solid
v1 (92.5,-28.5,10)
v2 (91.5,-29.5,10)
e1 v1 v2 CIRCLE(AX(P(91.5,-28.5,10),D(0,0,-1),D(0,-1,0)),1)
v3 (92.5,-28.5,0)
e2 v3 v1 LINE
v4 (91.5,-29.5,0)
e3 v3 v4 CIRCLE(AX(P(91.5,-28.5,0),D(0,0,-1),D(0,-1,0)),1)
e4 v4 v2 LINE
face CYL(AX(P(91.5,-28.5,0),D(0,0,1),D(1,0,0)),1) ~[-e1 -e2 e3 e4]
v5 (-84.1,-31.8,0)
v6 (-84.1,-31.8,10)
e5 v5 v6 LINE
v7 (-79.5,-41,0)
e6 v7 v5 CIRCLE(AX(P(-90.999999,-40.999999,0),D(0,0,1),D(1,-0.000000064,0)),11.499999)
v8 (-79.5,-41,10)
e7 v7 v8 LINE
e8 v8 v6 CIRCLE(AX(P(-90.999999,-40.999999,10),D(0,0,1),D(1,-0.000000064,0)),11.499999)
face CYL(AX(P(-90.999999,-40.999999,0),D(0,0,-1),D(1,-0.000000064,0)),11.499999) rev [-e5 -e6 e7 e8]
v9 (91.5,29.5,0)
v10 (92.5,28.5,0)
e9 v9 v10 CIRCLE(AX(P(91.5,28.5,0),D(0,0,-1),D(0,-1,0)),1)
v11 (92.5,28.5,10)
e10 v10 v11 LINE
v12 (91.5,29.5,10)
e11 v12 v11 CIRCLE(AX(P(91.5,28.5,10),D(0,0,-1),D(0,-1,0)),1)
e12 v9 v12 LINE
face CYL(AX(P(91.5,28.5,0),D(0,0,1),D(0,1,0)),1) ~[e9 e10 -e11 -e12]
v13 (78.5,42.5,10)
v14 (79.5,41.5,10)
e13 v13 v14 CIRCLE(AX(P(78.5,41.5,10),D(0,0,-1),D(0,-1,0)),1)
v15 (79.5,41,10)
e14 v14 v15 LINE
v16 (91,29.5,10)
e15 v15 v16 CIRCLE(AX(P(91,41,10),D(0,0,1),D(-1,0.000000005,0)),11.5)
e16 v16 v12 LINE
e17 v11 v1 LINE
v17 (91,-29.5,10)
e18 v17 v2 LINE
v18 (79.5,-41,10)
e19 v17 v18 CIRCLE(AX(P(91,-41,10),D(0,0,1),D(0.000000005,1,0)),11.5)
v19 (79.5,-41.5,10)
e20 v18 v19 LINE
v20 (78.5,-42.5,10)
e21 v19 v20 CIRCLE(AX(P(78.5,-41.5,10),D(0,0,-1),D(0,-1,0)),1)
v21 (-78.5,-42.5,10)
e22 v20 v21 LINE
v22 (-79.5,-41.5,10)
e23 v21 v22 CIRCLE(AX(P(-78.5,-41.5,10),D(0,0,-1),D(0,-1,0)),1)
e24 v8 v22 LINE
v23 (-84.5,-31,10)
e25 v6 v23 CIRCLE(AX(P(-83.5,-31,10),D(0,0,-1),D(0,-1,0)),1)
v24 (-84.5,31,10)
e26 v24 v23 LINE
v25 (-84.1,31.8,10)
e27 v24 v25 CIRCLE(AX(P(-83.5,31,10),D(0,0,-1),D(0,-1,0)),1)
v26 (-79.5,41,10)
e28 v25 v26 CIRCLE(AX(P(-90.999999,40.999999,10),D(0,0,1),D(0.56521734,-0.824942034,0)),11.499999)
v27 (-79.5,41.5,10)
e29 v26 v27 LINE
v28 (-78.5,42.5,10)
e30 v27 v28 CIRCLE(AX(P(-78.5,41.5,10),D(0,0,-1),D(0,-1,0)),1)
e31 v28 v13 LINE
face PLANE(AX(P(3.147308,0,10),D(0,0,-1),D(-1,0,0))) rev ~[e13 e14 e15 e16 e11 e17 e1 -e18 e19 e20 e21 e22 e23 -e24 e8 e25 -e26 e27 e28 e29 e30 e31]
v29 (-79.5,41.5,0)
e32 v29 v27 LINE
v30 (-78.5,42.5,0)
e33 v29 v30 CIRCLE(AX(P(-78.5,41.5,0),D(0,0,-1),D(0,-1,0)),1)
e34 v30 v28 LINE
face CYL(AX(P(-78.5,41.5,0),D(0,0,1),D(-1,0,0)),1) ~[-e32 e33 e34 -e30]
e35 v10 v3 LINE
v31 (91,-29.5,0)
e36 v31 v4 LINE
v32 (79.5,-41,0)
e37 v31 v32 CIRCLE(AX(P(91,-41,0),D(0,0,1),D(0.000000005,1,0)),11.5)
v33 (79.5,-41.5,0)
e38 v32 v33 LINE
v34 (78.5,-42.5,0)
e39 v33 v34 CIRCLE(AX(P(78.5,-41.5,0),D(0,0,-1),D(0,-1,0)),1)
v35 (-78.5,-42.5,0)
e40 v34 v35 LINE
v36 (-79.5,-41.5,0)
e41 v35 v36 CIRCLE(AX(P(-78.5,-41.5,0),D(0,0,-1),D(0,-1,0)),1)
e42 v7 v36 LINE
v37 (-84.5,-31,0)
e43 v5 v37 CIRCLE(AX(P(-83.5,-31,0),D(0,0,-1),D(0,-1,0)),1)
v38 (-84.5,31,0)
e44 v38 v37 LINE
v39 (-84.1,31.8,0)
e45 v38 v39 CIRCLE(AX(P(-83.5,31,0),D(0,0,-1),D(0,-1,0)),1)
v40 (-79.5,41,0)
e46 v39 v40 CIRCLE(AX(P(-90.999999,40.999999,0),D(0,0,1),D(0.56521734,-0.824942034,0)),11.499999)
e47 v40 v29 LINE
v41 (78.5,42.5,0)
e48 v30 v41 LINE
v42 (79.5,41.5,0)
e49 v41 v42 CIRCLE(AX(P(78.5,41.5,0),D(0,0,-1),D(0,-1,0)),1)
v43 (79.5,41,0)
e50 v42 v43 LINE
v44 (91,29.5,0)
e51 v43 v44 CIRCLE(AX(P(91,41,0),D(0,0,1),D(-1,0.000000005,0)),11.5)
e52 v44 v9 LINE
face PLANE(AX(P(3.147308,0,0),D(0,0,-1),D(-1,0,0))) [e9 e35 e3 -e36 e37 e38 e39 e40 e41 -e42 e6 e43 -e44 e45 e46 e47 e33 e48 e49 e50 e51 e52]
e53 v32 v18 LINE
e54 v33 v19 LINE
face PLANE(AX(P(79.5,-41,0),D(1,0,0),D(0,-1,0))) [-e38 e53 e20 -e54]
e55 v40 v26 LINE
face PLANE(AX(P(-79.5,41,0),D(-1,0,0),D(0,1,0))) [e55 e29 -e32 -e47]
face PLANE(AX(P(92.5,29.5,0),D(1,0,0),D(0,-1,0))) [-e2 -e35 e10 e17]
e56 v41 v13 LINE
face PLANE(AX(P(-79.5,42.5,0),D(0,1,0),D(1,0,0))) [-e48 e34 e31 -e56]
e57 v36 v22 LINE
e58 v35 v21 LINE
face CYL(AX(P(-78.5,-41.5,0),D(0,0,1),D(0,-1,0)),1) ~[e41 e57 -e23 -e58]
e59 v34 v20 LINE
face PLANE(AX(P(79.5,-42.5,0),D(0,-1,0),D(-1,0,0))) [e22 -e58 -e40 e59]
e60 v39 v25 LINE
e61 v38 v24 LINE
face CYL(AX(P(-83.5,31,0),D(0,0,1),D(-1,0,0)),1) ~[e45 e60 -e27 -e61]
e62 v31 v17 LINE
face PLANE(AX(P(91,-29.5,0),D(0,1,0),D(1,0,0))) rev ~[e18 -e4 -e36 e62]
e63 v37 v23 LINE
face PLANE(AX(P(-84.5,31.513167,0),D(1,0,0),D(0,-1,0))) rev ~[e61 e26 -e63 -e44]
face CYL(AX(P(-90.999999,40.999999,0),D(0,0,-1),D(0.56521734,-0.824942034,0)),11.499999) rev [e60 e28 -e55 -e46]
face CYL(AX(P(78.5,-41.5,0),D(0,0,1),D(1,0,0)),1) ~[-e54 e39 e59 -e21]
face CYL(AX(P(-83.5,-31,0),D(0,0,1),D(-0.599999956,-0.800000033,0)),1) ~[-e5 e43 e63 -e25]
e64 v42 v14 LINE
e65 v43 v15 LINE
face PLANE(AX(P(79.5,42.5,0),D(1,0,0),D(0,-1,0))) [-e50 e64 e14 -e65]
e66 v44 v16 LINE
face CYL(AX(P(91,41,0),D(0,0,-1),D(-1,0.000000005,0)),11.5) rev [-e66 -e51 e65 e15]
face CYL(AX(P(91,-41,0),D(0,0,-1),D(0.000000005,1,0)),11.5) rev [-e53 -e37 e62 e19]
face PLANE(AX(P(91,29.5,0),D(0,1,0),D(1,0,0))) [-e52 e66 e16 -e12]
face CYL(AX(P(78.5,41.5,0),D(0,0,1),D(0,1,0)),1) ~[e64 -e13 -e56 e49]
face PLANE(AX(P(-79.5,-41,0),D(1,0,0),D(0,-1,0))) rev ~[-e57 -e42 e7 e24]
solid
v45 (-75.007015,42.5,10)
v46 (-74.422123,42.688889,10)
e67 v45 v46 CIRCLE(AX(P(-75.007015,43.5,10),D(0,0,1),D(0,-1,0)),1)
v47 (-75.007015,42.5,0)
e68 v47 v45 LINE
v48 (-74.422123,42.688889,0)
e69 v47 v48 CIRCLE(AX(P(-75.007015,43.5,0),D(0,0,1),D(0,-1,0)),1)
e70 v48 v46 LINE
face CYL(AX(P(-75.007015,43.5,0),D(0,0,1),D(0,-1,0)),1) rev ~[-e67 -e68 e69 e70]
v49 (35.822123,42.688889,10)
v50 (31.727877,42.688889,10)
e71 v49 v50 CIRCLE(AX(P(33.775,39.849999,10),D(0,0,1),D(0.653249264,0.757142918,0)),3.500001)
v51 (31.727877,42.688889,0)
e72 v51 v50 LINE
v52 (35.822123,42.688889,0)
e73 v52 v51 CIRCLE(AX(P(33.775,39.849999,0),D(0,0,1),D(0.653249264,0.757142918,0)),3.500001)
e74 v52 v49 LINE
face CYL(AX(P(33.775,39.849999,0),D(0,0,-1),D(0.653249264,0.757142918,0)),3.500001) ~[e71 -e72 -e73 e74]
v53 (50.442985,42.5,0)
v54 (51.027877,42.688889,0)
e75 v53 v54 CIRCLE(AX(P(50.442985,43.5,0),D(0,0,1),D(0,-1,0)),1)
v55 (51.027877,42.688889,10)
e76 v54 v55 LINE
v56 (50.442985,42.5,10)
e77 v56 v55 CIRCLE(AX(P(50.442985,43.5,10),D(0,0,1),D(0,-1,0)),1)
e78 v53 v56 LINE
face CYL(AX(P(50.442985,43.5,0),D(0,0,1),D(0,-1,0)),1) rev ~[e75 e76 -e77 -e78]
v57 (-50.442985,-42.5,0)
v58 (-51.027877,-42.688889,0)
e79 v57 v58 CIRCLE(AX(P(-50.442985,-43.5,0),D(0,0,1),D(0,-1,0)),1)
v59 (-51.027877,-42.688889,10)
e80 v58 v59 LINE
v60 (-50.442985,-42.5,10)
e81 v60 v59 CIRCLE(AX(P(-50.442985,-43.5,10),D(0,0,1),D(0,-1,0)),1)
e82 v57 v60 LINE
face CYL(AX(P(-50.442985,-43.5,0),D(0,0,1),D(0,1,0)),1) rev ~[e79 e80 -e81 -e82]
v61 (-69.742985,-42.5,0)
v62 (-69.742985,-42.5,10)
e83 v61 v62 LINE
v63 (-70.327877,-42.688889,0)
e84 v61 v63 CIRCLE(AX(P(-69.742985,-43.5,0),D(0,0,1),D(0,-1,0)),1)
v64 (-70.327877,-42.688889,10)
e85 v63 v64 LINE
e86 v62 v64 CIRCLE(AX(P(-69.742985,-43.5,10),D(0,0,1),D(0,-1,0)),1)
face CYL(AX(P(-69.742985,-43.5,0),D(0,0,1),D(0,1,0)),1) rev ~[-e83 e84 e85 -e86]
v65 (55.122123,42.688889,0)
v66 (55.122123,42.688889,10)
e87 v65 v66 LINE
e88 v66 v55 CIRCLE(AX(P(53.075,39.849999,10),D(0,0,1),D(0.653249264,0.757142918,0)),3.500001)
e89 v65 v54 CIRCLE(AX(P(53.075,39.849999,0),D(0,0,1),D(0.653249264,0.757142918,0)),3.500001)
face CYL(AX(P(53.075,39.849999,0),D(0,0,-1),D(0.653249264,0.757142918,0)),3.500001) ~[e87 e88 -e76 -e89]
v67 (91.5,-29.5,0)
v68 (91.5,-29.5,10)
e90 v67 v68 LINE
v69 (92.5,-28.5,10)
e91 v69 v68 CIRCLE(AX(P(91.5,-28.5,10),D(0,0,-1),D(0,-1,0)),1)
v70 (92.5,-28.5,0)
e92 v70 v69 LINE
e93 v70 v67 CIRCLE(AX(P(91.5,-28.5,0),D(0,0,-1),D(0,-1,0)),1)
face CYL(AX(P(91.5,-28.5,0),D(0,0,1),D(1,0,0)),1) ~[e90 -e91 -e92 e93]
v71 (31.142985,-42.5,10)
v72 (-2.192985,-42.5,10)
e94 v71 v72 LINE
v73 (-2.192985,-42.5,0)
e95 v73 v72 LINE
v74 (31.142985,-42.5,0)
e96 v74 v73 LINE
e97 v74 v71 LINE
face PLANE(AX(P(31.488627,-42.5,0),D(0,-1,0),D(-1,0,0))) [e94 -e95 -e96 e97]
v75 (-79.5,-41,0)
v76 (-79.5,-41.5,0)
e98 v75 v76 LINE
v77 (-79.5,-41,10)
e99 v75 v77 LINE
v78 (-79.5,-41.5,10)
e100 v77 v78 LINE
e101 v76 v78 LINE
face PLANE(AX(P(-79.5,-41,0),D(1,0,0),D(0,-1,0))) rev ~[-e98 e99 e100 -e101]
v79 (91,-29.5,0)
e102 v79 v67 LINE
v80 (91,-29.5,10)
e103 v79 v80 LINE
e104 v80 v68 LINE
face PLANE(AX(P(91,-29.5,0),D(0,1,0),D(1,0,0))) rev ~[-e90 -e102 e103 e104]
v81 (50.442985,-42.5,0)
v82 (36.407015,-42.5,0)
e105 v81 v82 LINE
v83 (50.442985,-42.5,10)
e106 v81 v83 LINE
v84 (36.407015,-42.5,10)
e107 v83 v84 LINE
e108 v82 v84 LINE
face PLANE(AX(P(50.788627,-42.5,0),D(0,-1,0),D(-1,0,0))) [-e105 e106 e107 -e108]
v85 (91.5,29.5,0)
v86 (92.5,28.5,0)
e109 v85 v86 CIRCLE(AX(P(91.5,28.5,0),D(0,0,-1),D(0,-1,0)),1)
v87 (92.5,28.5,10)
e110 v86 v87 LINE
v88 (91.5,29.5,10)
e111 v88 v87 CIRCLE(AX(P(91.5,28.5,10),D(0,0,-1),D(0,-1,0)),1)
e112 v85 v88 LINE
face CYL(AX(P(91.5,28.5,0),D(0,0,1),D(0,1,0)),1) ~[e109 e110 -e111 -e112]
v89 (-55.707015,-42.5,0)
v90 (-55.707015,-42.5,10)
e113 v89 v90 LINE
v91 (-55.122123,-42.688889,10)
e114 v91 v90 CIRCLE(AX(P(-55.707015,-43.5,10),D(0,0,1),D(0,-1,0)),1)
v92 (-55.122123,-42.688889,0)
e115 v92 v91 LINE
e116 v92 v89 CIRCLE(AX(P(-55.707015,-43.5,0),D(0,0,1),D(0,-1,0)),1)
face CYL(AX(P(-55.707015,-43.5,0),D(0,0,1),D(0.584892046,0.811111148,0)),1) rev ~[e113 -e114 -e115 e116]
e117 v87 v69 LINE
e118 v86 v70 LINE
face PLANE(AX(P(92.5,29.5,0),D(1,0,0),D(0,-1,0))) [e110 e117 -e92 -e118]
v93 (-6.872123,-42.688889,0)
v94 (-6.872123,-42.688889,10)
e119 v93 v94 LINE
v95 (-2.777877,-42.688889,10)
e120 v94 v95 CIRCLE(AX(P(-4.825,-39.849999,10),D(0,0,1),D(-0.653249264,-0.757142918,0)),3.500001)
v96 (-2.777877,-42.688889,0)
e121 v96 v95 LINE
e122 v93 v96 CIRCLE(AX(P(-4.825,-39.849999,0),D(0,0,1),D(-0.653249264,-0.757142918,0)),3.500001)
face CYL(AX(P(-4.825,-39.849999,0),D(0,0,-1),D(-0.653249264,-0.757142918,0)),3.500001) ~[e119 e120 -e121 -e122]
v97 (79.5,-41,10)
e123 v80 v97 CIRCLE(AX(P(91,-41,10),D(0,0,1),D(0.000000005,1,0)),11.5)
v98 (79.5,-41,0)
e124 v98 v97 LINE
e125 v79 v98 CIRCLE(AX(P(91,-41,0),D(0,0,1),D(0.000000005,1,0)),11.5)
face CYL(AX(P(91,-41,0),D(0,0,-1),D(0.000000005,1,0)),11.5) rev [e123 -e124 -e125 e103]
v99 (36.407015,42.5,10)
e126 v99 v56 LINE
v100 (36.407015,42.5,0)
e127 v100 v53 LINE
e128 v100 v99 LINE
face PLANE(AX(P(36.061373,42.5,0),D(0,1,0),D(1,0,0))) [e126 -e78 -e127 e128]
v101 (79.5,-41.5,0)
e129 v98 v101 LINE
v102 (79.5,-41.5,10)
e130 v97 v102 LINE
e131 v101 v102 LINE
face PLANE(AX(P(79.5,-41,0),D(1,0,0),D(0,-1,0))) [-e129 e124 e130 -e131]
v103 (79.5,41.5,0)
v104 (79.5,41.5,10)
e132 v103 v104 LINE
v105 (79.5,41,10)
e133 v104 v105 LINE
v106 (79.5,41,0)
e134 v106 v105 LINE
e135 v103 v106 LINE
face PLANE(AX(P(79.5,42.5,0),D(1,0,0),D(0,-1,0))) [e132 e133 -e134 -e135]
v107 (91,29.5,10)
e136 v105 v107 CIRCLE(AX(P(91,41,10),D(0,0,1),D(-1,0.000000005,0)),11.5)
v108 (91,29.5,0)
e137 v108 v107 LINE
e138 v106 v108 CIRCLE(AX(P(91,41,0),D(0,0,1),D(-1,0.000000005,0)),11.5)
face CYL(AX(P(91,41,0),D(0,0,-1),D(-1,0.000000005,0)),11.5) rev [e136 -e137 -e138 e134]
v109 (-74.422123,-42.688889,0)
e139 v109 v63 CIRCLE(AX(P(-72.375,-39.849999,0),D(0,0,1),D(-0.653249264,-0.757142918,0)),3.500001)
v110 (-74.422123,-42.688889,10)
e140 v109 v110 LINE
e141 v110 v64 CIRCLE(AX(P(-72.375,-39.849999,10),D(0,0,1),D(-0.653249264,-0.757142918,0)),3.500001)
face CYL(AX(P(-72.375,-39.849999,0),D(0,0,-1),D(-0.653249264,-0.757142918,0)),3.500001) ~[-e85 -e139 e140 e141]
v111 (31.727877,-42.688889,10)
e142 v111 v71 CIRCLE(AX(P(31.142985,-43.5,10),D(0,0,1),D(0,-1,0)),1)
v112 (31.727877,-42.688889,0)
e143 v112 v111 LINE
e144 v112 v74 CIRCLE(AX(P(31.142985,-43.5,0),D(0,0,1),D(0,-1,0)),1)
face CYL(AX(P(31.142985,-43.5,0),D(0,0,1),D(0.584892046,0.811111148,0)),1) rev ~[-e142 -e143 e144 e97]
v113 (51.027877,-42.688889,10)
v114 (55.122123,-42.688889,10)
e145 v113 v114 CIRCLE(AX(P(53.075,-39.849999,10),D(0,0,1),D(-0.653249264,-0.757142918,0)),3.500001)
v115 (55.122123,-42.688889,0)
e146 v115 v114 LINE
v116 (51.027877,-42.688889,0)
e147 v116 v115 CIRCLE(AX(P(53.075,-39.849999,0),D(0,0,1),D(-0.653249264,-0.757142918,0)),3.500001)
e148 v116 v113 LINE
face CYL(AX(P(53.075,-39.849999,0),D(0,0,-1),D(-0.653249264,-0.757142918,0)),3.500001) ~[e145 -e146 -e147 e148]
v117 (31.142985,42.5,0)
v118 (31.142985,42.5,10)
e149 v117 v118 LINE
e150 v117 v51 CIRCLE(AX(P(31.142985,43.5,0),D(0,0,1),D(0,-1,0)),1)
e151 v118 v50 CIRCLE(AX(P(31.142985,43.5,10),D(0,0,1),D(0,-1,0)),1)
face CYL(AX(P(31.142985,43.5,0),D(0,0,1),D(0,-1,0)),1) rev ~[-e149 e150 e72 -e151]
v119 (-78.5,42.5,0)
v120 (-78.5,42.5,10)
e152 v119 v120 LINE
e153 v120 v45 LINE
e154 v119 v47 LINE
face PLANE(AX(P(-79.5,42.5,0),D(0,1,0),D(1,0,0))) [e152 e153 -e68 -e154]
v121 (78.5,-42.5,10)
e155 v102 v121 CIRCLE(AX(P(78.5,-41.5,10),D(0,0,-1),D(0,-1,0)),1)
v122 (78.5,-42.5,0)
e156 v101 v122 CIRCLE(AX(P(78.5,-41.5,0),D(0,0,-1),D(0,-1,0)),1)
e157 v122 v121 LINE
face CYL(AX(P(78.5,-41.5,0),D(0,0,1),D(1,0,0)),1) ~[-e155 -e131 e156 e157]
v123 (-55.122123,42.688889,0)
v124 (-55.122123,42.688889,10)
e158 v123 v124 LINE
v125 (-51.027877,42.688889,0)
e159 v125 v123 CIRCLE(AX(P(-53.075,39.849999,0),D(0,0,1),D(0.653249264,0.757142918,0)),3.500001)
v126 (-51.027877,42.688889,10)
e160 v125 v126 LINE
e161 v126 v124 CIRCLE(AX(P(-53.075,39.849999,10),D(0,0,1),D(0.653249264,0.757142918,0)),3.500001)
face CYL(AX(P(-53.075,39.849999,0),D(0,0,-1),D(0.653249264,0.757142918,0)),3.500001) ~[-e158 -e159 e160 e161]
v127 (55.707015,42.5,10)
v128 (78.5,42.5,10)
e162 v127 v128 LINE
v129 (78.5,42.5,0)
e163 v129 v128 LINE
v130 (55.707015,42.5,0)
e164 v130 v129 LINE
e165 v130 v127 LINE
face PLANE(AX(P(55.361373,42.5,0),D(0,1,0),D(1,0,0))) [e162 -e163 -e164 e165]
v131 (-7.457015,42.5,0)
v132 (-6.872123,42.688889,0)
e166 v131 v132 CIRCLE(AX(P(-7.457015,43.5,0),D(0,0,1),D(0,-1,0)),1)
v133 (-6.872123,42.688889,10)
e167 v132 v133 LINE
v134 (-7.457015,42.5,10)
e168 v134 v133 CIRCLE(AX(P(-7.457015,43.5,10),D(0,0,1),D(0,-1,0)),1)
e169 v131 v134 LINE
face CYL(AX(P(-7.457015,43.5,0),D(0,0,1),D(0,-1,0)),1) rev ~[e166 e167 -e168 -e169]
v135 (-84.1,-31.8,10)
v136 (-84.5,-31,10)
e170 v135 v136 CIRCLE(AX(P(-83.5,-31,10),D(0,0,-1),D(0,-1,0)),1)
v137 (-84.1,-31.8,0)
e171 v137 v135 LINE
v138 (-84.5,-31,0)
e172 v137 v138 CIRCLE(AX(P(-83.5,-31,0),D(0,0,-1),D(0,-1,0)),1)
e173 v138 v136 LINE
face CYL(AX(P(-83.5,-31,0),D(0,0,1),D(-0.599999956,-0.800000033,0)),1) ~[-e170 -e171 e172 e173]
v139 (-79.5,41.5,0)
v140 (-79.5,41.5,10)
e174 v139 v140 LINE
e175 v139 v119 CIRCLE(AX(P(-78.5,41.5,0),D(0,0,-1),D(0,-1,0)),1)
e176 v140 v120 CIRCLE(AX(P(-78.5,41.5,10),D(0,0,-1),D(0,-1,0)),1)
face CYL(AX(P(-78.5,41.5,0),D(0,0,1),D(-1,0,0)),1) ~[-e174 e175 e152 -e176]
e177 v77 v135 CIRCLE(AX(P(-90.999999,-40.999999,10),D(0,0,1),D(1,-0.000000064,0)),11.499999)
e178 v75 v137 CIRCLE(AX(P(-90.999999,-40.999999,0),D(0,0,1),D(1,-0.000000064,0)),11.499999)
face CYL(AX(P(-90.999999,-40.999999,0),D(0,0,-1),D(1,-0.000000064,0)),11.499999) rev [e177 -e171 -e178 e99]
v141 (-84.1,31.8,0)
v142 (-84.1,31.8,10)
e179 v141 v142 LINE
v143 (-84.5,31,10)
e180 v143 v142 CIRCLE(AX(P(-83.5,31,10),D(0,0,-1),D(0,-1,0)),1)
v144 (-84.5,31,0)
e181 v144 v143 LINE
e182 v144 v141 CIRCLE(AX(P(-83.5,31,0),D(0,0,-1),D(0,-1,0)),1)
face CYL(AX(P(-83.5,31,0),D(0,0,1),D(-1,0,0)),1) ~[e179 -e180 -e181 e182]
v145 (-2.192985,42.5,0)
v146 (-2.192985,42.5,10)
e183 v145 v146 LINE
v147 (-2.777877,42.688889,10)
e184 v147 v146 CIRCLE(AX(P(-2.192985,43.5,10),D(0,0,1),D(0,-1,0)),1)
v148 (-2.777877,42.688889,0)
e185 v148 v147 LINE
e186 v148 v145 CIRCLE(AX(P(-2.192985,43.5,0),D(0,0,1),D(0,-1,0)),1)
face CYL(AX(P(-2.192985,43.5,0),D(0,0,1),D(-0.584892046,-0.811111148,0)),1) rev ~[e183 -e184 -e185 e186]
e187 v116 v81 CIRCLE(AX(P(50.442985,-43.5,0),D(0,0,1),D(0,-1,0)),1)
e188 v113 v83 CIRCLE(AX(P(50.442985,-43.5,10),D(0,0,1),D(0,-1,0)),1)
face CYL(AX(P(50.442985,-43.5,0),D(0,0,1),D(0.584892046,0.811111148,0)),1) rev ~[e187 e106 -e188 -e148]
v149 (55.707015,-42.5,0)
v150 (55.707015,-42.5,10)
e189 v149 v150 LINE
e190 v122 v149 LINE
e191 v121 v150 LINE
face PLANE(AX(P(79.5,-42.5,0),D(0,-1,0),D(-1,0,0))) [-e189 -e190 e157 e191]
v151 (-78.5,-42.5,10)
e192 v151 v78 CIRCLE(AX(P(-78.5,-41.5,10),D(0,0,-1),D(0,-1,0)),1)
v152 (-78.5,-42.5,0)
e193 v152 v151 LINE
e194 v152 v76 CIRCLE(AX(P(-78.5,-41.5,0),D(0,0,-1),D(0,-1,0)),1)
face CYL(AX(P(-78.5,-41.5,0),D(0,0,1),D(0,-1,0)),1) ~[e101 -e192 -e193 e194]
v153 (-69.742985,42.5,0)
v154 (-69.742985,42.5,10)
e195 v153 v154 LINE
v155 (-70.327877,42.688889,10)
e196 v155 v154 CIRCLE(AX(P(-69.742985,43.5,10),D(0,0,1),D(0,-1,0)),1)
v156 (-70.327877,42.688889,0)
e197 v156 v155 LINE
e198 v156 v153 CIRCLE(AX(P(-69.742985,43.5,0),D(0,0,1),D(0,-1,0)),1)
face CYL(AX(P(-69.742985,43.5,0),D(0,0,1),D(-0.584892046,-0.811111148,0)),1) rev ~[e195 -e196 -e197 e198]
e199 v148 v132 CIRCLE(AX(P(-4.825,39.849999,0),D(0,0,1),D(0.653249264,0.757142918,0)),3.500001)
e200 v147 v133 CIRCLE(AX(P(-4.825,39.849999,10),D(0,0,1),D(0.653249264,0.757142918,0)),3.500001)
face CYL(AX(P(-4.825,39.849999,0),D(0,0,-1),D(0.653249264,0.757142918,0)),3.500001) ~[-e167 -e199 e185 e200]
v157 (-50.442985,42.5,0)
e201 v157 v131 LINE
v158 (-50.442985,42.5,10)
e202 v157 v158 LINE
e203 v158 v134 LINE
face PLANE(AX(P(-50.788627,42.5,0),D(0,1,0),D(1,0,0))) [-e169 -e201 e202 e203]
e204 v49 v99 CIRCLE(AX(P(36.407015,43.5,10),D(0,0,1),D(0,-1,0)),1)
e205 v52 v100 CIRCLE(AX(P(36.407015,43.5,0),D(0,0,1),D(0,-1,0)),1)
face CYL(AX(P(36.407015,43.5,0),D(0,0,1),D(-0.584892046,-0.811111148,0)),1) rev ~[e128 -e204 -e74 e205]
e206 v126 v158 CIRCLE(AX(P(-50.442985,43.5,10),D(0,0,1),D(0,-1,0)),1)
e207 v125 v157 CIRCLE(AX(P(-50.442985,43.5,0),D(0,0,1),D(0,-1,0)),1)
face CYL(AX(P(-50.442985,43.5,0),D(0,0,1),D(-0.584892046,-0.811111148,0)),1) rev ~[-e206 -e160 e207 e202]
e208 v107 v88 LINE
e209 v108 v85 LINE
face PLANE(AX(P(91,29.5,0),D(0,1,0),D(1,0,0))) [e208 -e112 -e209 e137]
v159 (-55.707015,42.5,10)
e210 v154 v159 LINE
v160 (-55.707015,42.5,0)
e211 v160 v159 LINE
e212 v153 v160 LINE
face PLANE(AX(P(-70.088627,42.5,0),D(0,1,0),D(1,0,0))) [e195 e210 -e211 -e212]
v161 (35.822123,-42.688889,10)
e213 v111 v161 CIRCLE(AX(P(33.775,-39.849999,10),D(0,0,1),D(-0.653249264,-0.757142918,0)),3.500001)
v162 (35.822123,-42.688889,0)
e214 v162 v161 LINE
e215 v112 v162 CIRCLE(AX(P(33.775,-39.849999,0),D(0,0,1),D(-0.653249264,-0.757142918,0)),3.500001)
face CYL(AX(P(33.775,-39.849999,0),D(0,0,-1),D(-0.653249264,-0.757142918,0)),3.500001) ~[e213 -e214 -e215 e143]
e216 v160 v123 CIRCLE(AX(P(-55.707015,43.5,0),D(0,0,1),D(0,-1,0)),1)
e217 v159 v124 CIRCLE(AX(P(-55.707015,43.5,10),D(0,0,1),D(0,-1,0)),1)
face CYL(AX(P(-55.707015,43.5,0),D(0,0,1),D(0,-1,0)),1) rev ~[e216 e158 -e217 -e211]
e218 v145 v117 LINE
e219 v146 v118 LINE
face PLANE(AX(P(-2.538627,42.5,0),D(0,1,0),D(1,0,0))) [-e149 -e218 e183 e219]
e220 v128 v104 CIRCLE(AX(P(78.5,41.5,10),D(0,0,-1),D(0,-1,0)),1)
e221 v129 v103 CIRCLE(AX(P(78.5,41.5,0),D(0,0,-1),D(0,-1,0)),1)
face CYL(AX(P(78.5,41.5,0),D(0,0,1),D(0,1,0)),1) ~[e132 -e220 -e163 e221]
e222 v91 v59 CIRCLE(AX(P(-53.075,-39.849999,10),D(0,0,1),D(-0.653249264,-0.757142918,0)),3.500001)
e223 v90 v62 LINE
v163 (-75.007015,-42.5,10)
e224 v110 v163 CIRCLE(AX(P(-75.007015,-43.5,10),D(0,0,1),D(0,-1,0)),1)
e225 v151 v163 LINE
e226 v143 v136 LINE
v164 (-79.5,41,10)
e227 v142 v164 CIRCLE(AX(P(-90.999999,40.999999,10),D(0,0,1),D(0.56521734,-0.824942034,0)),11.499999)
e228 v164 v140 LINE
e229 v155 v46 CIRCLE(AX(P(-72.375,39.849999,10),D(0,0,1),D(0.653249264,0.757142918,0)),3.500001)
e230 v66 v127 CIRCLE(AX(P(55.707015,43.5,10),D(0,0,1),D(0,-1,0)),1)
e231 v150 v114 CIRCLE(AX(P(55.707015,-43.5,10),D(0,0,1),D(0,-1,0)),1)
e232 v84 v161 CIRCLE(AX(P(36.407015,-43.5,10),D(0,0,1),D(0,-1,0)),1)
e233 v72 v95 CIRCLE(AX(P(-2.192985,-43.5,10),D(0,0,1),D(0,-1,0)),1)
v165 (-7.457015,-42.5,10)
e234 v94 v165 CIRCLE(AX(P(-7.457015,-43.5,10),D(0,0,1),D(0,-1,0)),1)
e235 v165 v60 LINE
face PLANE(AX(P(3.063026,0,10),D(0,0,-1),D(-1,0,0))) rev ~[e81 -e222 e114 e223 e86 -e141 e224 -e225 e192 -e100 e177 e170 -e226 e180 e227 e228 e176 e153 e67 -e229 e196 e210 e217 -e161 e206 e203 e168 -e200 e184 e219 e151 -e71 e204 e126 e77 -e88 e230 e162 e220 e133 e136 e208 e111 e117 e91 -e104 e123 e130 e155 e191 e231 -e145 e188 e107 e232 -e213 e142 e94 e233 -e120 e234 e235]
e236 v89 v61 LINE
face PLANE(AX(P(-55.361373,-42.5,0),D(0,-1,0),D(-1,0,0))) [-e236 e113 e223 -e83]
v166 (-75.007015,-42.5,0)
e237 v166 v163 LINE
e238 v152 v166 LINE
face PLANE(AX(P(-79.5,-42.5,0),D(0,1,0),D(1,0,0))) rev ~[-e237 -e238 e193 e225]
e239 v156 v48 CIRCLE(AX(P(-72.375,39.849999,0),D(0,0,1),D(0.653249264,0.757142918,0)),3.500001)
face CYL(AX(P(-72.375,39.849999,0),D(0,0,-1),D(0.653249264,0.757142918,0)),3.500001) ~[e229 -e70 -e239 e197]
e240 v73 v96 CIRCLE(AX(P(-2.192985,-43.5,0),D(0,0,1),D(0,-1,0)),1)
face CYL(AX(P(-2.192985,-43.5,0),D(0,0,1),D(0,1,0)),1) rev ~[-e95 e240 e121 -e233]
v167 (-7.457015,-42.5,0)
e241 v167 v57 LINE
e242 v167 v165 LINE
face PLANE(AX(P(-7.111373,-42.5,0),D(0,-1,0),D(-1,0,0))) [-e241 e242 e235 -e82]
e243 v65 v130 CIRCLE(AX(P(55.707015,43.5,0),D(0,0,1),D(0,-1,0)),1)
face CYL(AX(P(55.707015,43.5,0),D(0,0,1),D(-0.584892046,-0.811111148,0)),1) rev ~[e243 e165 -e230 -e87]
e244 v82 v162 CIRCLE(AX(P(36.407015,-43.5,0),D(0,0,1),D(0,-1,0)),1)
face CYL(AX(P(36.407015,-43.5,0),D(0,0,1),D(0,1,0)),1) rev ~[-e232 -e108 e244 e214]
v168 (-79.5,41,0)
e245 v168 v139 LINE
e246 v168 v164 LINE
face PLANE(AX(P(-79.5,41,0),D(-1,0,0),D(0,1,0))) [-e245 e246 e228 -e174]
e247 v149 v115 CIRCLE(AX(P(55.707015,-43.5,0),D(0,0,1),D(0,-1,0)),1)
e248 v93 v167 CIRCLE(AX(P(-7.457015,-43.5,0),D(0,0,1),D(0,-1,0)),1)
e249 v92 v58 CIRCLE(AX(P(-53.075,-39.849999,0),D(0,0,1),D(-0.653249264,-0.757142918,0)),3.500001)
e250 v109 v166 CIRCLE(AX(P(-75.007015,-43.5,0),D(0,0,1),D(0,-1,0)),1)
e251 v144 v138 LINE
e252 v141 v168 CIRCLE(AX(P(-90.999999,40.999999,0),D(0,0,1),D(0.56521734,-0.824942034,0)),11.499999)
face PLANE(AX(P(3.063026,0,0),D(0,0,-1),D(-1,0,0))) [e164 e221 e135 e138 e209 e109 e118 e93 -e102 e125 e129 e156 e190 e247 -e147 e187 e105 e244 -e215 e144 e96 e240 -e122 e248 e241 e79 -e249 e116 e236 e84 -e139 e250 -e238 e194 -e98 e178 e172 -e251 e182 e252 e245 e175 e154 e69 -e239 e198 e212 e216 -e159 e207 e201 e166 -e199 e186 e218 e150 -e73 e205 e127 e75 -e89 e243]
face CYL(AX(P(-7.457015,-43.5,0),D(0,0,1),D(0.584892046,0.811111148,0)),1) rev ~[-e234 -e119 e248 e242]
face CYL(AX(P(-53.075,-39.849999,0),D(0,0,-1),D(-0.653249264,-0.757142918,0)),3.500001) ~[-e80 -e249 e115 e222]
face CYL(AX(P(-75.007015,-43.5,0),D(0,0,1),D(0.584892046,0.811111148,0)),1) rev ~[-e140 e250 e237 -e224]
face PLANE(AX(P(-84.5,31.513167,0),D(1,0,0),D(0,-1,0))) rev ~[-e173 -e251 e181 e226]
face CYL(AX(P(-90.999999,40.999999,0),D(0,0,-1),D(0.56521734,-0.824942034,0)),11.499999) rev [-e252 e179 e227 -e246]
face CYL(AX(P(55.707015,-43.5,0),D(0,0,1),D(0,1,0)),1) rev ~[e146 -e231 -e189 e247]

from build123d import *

# Parameters (mm, degrees)
PAD_DEPTH    = 10
FILLET_R     = 1
PAD001_DEPTH = 10
FILLET001_R  = 1


with BuildPart() as body:
    # Sketch → Pad (new body)
    with BuildSketch(Plane.XY):
        with BuildLine():
            ThreePointArc((79.5, 41), (82.868272, 32.868272), (91, 29.5))
            Line((91, 29.5), (92.5, 29.5))
            Line((92.5, 29.5), (92.5, -29.5))
            Line((91, -29.5), (92.5, -29.5))
            ThreePointArc((91, -29.5), (82.868272, -32.868272), (79.5, -41))
            Line((79.5, -41), (79.5, -42.5))
            Line((79.5, -42.5), (55.361373, -42.5))
            ThreePointArc((50.788627, -42.5), (53.075, -43.35), (55.361373, -42.5))
            Line((50.788627, -42.5), (36.061373, -42.5))
            ThreePointArc((31.488627, -42.5), (33.775, -43.35), (36.061373, -42.5))
            Line((31.488627, -42.5), (-2.538627, -42.5))
            ThreePointArc((-7.111373, -42.5), (-4.825, -43.35), (-2.538627, -42.5))
            Line((-7.111373, -42.5), (-50.788627, -42.5))
            ThreePointArc((-55.361373, -42.5), (-53.075, -43.35), (-50.788627, -42.5))
            Line((-55.361373, -42.5), (-70.088627, -42.5))
            ThreePointArc((-74.661373, -42.5), (-72.375, -43.35), (-70.088627, -42.5))
            Line((-79.5, -42.5), (-74.661373, -42.5))
            Line((-79.5, -41), (-79.5, -42.5))
            ThreePointArc((-79.5, -41), (-80.826505, -35.638097), (-84.5, -31.513167))
            Line((-84.5, 31.513167), (-84.5, -31.513167))
            ThreePointArc((-84.5, 31.513167), (-80.826505, 35.638097), (-79.5, 41))
            Line((-79.5, 41), (-79.5, 42.5))
            Line((-79.5, 42.5), (-74.661373, 42.5))
            ThreePointArc((-70.088627, 42.5), (-72.375, 43.35), (-74.661373, 42.5))
            Line((-70.088627, 42.5), (-55.361373, 42.5))
            ThreePointArc((-50.788627, 42.5), (-53.075, 43.35), (-55.361373, 42.5))
            Line((-50.788627, 42.5), (-7.111373, 42.5))
            ThreePointArc((-2.538627, 42.5), (-4.825, 43.35), (-7.111373, 42.5))
            Line((-2.538627, 42.5), (31.488627, 42.5))
            ThreePointArc((36.061373, 42.5), (33.775, 43.35), (31.488627, 42.5))
            Line((36.061373, 42.5), (50.788627, 42.5))
            ThreePointArc((55.361373, 42.5), (53.075, 43.35), (50.788627, 42.5))
            Line((55.361373, 42.5), (79.5, 42.5))
            Line((79.5, 42.5), (79.5, 41))
        make_face()
    extrude(amount=PAD_DEPTH)

    # Fillet
    fillet_edges = [body.edges().sort_by_distance(p)[0] for p in [
        (-84.5, -31.513167, 5),
        (-79.5, -42.5, 5),
        (79.5, -42.5, 5),
        (92.5, -29.5, 5),
        (-84.5, 31.513167, 5),
        (-79.5, 42.5, 5),
        (79.5, 42.5, 5),
        (92.5, 29.5, 5),
        (-74.661373, 42.5, 5),
        (-70.088627, 42.5, 5),
        (-55.361373, 42.5, 5),
        (-50.788627, 42.5, 5),
        (-7.111373, 42.5, 5),
        (-2.538627, 42.5, 5),
        (31.488627, 42.5, 5),
        (36.061373, 42.5, 5),
        (50.788627, 42.5, 5),
        (55.361373, 42.5, 5),
        (-74.661373, -42.5, 5),
        (-70.088627, -42.5, 5),
        (-55.361373, -42.5, 5),
        (-50.788627, -42.5, 5),
        (-7.111373, -42.5, 5),
        (-2.538627, -42.5, 5),
        (31.488627, -42.5, 5),
        (36.061373, -42.5, 5),
        (50.788627, -42.5, 5),
        (55.361373, -42.5, 5),
    ]]
    fillet(fillet_edges, radius=FILLET_R)


with BuildPart() as body001:
    # Sketch001 → Pad001 (new body)
    with BuildSketch(Plane.XY):
        with BuildLine():
            ThreePointArc((79.5, 41), (82.868272, 32.868272), (91, 29.5))
            Line((91, 29.5), (92.5, 29.5))
            Line((92.5, 29.5), (92.5, -29.5))
            Line((91, -29.5), (92.5, -29.5))
            ThreePointArc((91, -29.5), (82.868272, -32.868272), (79.5, -41))
            Line((79.5, -41), (79.5, -42.5))
            Line((79.5, -42.5), (-79.5, -42.5))
            Line((-79.5, -41), (-79.5, -42.5))
            ThreePointArc((-79.5, -41), (-80.826505, -35.638097), (-84.5, -31.513167))
            Line((-84.5, 31.513167), (-84.5, -31.513167))
            ThreePointArc((-84.5, 31.513167), (-80.826505, 35.638097), (-79.5, 41))
            Line((-79.5, 41), (-79.5, 42.5))
            Line((-79.5, 42.5), (79.5, 42.5))
            Line((79.5, 42.5), (79.5, 41))
        make_face()
    extrude(amount=PAD001_DEPTH)

    # Fillet001
    fillet001_edges = [body001.edges().sort_by_distance(p)[0] for p in [
        (-84.5, -31.513167, 5),
        (-79.5, -42.5, 5),
        (79.5, -42.5, 5),
        (92.5, -29.5, 5),
        (-84.5, 31.513167, 5),
        (-79.5, 42.5, 5),
        (79.5, 42.5, 5),
        (92.5, 29.5, 5),
    ]]
    fillet(fillet001_edges, radius=FILLET001_R)


solid = Compound([body.part, body001.part])
